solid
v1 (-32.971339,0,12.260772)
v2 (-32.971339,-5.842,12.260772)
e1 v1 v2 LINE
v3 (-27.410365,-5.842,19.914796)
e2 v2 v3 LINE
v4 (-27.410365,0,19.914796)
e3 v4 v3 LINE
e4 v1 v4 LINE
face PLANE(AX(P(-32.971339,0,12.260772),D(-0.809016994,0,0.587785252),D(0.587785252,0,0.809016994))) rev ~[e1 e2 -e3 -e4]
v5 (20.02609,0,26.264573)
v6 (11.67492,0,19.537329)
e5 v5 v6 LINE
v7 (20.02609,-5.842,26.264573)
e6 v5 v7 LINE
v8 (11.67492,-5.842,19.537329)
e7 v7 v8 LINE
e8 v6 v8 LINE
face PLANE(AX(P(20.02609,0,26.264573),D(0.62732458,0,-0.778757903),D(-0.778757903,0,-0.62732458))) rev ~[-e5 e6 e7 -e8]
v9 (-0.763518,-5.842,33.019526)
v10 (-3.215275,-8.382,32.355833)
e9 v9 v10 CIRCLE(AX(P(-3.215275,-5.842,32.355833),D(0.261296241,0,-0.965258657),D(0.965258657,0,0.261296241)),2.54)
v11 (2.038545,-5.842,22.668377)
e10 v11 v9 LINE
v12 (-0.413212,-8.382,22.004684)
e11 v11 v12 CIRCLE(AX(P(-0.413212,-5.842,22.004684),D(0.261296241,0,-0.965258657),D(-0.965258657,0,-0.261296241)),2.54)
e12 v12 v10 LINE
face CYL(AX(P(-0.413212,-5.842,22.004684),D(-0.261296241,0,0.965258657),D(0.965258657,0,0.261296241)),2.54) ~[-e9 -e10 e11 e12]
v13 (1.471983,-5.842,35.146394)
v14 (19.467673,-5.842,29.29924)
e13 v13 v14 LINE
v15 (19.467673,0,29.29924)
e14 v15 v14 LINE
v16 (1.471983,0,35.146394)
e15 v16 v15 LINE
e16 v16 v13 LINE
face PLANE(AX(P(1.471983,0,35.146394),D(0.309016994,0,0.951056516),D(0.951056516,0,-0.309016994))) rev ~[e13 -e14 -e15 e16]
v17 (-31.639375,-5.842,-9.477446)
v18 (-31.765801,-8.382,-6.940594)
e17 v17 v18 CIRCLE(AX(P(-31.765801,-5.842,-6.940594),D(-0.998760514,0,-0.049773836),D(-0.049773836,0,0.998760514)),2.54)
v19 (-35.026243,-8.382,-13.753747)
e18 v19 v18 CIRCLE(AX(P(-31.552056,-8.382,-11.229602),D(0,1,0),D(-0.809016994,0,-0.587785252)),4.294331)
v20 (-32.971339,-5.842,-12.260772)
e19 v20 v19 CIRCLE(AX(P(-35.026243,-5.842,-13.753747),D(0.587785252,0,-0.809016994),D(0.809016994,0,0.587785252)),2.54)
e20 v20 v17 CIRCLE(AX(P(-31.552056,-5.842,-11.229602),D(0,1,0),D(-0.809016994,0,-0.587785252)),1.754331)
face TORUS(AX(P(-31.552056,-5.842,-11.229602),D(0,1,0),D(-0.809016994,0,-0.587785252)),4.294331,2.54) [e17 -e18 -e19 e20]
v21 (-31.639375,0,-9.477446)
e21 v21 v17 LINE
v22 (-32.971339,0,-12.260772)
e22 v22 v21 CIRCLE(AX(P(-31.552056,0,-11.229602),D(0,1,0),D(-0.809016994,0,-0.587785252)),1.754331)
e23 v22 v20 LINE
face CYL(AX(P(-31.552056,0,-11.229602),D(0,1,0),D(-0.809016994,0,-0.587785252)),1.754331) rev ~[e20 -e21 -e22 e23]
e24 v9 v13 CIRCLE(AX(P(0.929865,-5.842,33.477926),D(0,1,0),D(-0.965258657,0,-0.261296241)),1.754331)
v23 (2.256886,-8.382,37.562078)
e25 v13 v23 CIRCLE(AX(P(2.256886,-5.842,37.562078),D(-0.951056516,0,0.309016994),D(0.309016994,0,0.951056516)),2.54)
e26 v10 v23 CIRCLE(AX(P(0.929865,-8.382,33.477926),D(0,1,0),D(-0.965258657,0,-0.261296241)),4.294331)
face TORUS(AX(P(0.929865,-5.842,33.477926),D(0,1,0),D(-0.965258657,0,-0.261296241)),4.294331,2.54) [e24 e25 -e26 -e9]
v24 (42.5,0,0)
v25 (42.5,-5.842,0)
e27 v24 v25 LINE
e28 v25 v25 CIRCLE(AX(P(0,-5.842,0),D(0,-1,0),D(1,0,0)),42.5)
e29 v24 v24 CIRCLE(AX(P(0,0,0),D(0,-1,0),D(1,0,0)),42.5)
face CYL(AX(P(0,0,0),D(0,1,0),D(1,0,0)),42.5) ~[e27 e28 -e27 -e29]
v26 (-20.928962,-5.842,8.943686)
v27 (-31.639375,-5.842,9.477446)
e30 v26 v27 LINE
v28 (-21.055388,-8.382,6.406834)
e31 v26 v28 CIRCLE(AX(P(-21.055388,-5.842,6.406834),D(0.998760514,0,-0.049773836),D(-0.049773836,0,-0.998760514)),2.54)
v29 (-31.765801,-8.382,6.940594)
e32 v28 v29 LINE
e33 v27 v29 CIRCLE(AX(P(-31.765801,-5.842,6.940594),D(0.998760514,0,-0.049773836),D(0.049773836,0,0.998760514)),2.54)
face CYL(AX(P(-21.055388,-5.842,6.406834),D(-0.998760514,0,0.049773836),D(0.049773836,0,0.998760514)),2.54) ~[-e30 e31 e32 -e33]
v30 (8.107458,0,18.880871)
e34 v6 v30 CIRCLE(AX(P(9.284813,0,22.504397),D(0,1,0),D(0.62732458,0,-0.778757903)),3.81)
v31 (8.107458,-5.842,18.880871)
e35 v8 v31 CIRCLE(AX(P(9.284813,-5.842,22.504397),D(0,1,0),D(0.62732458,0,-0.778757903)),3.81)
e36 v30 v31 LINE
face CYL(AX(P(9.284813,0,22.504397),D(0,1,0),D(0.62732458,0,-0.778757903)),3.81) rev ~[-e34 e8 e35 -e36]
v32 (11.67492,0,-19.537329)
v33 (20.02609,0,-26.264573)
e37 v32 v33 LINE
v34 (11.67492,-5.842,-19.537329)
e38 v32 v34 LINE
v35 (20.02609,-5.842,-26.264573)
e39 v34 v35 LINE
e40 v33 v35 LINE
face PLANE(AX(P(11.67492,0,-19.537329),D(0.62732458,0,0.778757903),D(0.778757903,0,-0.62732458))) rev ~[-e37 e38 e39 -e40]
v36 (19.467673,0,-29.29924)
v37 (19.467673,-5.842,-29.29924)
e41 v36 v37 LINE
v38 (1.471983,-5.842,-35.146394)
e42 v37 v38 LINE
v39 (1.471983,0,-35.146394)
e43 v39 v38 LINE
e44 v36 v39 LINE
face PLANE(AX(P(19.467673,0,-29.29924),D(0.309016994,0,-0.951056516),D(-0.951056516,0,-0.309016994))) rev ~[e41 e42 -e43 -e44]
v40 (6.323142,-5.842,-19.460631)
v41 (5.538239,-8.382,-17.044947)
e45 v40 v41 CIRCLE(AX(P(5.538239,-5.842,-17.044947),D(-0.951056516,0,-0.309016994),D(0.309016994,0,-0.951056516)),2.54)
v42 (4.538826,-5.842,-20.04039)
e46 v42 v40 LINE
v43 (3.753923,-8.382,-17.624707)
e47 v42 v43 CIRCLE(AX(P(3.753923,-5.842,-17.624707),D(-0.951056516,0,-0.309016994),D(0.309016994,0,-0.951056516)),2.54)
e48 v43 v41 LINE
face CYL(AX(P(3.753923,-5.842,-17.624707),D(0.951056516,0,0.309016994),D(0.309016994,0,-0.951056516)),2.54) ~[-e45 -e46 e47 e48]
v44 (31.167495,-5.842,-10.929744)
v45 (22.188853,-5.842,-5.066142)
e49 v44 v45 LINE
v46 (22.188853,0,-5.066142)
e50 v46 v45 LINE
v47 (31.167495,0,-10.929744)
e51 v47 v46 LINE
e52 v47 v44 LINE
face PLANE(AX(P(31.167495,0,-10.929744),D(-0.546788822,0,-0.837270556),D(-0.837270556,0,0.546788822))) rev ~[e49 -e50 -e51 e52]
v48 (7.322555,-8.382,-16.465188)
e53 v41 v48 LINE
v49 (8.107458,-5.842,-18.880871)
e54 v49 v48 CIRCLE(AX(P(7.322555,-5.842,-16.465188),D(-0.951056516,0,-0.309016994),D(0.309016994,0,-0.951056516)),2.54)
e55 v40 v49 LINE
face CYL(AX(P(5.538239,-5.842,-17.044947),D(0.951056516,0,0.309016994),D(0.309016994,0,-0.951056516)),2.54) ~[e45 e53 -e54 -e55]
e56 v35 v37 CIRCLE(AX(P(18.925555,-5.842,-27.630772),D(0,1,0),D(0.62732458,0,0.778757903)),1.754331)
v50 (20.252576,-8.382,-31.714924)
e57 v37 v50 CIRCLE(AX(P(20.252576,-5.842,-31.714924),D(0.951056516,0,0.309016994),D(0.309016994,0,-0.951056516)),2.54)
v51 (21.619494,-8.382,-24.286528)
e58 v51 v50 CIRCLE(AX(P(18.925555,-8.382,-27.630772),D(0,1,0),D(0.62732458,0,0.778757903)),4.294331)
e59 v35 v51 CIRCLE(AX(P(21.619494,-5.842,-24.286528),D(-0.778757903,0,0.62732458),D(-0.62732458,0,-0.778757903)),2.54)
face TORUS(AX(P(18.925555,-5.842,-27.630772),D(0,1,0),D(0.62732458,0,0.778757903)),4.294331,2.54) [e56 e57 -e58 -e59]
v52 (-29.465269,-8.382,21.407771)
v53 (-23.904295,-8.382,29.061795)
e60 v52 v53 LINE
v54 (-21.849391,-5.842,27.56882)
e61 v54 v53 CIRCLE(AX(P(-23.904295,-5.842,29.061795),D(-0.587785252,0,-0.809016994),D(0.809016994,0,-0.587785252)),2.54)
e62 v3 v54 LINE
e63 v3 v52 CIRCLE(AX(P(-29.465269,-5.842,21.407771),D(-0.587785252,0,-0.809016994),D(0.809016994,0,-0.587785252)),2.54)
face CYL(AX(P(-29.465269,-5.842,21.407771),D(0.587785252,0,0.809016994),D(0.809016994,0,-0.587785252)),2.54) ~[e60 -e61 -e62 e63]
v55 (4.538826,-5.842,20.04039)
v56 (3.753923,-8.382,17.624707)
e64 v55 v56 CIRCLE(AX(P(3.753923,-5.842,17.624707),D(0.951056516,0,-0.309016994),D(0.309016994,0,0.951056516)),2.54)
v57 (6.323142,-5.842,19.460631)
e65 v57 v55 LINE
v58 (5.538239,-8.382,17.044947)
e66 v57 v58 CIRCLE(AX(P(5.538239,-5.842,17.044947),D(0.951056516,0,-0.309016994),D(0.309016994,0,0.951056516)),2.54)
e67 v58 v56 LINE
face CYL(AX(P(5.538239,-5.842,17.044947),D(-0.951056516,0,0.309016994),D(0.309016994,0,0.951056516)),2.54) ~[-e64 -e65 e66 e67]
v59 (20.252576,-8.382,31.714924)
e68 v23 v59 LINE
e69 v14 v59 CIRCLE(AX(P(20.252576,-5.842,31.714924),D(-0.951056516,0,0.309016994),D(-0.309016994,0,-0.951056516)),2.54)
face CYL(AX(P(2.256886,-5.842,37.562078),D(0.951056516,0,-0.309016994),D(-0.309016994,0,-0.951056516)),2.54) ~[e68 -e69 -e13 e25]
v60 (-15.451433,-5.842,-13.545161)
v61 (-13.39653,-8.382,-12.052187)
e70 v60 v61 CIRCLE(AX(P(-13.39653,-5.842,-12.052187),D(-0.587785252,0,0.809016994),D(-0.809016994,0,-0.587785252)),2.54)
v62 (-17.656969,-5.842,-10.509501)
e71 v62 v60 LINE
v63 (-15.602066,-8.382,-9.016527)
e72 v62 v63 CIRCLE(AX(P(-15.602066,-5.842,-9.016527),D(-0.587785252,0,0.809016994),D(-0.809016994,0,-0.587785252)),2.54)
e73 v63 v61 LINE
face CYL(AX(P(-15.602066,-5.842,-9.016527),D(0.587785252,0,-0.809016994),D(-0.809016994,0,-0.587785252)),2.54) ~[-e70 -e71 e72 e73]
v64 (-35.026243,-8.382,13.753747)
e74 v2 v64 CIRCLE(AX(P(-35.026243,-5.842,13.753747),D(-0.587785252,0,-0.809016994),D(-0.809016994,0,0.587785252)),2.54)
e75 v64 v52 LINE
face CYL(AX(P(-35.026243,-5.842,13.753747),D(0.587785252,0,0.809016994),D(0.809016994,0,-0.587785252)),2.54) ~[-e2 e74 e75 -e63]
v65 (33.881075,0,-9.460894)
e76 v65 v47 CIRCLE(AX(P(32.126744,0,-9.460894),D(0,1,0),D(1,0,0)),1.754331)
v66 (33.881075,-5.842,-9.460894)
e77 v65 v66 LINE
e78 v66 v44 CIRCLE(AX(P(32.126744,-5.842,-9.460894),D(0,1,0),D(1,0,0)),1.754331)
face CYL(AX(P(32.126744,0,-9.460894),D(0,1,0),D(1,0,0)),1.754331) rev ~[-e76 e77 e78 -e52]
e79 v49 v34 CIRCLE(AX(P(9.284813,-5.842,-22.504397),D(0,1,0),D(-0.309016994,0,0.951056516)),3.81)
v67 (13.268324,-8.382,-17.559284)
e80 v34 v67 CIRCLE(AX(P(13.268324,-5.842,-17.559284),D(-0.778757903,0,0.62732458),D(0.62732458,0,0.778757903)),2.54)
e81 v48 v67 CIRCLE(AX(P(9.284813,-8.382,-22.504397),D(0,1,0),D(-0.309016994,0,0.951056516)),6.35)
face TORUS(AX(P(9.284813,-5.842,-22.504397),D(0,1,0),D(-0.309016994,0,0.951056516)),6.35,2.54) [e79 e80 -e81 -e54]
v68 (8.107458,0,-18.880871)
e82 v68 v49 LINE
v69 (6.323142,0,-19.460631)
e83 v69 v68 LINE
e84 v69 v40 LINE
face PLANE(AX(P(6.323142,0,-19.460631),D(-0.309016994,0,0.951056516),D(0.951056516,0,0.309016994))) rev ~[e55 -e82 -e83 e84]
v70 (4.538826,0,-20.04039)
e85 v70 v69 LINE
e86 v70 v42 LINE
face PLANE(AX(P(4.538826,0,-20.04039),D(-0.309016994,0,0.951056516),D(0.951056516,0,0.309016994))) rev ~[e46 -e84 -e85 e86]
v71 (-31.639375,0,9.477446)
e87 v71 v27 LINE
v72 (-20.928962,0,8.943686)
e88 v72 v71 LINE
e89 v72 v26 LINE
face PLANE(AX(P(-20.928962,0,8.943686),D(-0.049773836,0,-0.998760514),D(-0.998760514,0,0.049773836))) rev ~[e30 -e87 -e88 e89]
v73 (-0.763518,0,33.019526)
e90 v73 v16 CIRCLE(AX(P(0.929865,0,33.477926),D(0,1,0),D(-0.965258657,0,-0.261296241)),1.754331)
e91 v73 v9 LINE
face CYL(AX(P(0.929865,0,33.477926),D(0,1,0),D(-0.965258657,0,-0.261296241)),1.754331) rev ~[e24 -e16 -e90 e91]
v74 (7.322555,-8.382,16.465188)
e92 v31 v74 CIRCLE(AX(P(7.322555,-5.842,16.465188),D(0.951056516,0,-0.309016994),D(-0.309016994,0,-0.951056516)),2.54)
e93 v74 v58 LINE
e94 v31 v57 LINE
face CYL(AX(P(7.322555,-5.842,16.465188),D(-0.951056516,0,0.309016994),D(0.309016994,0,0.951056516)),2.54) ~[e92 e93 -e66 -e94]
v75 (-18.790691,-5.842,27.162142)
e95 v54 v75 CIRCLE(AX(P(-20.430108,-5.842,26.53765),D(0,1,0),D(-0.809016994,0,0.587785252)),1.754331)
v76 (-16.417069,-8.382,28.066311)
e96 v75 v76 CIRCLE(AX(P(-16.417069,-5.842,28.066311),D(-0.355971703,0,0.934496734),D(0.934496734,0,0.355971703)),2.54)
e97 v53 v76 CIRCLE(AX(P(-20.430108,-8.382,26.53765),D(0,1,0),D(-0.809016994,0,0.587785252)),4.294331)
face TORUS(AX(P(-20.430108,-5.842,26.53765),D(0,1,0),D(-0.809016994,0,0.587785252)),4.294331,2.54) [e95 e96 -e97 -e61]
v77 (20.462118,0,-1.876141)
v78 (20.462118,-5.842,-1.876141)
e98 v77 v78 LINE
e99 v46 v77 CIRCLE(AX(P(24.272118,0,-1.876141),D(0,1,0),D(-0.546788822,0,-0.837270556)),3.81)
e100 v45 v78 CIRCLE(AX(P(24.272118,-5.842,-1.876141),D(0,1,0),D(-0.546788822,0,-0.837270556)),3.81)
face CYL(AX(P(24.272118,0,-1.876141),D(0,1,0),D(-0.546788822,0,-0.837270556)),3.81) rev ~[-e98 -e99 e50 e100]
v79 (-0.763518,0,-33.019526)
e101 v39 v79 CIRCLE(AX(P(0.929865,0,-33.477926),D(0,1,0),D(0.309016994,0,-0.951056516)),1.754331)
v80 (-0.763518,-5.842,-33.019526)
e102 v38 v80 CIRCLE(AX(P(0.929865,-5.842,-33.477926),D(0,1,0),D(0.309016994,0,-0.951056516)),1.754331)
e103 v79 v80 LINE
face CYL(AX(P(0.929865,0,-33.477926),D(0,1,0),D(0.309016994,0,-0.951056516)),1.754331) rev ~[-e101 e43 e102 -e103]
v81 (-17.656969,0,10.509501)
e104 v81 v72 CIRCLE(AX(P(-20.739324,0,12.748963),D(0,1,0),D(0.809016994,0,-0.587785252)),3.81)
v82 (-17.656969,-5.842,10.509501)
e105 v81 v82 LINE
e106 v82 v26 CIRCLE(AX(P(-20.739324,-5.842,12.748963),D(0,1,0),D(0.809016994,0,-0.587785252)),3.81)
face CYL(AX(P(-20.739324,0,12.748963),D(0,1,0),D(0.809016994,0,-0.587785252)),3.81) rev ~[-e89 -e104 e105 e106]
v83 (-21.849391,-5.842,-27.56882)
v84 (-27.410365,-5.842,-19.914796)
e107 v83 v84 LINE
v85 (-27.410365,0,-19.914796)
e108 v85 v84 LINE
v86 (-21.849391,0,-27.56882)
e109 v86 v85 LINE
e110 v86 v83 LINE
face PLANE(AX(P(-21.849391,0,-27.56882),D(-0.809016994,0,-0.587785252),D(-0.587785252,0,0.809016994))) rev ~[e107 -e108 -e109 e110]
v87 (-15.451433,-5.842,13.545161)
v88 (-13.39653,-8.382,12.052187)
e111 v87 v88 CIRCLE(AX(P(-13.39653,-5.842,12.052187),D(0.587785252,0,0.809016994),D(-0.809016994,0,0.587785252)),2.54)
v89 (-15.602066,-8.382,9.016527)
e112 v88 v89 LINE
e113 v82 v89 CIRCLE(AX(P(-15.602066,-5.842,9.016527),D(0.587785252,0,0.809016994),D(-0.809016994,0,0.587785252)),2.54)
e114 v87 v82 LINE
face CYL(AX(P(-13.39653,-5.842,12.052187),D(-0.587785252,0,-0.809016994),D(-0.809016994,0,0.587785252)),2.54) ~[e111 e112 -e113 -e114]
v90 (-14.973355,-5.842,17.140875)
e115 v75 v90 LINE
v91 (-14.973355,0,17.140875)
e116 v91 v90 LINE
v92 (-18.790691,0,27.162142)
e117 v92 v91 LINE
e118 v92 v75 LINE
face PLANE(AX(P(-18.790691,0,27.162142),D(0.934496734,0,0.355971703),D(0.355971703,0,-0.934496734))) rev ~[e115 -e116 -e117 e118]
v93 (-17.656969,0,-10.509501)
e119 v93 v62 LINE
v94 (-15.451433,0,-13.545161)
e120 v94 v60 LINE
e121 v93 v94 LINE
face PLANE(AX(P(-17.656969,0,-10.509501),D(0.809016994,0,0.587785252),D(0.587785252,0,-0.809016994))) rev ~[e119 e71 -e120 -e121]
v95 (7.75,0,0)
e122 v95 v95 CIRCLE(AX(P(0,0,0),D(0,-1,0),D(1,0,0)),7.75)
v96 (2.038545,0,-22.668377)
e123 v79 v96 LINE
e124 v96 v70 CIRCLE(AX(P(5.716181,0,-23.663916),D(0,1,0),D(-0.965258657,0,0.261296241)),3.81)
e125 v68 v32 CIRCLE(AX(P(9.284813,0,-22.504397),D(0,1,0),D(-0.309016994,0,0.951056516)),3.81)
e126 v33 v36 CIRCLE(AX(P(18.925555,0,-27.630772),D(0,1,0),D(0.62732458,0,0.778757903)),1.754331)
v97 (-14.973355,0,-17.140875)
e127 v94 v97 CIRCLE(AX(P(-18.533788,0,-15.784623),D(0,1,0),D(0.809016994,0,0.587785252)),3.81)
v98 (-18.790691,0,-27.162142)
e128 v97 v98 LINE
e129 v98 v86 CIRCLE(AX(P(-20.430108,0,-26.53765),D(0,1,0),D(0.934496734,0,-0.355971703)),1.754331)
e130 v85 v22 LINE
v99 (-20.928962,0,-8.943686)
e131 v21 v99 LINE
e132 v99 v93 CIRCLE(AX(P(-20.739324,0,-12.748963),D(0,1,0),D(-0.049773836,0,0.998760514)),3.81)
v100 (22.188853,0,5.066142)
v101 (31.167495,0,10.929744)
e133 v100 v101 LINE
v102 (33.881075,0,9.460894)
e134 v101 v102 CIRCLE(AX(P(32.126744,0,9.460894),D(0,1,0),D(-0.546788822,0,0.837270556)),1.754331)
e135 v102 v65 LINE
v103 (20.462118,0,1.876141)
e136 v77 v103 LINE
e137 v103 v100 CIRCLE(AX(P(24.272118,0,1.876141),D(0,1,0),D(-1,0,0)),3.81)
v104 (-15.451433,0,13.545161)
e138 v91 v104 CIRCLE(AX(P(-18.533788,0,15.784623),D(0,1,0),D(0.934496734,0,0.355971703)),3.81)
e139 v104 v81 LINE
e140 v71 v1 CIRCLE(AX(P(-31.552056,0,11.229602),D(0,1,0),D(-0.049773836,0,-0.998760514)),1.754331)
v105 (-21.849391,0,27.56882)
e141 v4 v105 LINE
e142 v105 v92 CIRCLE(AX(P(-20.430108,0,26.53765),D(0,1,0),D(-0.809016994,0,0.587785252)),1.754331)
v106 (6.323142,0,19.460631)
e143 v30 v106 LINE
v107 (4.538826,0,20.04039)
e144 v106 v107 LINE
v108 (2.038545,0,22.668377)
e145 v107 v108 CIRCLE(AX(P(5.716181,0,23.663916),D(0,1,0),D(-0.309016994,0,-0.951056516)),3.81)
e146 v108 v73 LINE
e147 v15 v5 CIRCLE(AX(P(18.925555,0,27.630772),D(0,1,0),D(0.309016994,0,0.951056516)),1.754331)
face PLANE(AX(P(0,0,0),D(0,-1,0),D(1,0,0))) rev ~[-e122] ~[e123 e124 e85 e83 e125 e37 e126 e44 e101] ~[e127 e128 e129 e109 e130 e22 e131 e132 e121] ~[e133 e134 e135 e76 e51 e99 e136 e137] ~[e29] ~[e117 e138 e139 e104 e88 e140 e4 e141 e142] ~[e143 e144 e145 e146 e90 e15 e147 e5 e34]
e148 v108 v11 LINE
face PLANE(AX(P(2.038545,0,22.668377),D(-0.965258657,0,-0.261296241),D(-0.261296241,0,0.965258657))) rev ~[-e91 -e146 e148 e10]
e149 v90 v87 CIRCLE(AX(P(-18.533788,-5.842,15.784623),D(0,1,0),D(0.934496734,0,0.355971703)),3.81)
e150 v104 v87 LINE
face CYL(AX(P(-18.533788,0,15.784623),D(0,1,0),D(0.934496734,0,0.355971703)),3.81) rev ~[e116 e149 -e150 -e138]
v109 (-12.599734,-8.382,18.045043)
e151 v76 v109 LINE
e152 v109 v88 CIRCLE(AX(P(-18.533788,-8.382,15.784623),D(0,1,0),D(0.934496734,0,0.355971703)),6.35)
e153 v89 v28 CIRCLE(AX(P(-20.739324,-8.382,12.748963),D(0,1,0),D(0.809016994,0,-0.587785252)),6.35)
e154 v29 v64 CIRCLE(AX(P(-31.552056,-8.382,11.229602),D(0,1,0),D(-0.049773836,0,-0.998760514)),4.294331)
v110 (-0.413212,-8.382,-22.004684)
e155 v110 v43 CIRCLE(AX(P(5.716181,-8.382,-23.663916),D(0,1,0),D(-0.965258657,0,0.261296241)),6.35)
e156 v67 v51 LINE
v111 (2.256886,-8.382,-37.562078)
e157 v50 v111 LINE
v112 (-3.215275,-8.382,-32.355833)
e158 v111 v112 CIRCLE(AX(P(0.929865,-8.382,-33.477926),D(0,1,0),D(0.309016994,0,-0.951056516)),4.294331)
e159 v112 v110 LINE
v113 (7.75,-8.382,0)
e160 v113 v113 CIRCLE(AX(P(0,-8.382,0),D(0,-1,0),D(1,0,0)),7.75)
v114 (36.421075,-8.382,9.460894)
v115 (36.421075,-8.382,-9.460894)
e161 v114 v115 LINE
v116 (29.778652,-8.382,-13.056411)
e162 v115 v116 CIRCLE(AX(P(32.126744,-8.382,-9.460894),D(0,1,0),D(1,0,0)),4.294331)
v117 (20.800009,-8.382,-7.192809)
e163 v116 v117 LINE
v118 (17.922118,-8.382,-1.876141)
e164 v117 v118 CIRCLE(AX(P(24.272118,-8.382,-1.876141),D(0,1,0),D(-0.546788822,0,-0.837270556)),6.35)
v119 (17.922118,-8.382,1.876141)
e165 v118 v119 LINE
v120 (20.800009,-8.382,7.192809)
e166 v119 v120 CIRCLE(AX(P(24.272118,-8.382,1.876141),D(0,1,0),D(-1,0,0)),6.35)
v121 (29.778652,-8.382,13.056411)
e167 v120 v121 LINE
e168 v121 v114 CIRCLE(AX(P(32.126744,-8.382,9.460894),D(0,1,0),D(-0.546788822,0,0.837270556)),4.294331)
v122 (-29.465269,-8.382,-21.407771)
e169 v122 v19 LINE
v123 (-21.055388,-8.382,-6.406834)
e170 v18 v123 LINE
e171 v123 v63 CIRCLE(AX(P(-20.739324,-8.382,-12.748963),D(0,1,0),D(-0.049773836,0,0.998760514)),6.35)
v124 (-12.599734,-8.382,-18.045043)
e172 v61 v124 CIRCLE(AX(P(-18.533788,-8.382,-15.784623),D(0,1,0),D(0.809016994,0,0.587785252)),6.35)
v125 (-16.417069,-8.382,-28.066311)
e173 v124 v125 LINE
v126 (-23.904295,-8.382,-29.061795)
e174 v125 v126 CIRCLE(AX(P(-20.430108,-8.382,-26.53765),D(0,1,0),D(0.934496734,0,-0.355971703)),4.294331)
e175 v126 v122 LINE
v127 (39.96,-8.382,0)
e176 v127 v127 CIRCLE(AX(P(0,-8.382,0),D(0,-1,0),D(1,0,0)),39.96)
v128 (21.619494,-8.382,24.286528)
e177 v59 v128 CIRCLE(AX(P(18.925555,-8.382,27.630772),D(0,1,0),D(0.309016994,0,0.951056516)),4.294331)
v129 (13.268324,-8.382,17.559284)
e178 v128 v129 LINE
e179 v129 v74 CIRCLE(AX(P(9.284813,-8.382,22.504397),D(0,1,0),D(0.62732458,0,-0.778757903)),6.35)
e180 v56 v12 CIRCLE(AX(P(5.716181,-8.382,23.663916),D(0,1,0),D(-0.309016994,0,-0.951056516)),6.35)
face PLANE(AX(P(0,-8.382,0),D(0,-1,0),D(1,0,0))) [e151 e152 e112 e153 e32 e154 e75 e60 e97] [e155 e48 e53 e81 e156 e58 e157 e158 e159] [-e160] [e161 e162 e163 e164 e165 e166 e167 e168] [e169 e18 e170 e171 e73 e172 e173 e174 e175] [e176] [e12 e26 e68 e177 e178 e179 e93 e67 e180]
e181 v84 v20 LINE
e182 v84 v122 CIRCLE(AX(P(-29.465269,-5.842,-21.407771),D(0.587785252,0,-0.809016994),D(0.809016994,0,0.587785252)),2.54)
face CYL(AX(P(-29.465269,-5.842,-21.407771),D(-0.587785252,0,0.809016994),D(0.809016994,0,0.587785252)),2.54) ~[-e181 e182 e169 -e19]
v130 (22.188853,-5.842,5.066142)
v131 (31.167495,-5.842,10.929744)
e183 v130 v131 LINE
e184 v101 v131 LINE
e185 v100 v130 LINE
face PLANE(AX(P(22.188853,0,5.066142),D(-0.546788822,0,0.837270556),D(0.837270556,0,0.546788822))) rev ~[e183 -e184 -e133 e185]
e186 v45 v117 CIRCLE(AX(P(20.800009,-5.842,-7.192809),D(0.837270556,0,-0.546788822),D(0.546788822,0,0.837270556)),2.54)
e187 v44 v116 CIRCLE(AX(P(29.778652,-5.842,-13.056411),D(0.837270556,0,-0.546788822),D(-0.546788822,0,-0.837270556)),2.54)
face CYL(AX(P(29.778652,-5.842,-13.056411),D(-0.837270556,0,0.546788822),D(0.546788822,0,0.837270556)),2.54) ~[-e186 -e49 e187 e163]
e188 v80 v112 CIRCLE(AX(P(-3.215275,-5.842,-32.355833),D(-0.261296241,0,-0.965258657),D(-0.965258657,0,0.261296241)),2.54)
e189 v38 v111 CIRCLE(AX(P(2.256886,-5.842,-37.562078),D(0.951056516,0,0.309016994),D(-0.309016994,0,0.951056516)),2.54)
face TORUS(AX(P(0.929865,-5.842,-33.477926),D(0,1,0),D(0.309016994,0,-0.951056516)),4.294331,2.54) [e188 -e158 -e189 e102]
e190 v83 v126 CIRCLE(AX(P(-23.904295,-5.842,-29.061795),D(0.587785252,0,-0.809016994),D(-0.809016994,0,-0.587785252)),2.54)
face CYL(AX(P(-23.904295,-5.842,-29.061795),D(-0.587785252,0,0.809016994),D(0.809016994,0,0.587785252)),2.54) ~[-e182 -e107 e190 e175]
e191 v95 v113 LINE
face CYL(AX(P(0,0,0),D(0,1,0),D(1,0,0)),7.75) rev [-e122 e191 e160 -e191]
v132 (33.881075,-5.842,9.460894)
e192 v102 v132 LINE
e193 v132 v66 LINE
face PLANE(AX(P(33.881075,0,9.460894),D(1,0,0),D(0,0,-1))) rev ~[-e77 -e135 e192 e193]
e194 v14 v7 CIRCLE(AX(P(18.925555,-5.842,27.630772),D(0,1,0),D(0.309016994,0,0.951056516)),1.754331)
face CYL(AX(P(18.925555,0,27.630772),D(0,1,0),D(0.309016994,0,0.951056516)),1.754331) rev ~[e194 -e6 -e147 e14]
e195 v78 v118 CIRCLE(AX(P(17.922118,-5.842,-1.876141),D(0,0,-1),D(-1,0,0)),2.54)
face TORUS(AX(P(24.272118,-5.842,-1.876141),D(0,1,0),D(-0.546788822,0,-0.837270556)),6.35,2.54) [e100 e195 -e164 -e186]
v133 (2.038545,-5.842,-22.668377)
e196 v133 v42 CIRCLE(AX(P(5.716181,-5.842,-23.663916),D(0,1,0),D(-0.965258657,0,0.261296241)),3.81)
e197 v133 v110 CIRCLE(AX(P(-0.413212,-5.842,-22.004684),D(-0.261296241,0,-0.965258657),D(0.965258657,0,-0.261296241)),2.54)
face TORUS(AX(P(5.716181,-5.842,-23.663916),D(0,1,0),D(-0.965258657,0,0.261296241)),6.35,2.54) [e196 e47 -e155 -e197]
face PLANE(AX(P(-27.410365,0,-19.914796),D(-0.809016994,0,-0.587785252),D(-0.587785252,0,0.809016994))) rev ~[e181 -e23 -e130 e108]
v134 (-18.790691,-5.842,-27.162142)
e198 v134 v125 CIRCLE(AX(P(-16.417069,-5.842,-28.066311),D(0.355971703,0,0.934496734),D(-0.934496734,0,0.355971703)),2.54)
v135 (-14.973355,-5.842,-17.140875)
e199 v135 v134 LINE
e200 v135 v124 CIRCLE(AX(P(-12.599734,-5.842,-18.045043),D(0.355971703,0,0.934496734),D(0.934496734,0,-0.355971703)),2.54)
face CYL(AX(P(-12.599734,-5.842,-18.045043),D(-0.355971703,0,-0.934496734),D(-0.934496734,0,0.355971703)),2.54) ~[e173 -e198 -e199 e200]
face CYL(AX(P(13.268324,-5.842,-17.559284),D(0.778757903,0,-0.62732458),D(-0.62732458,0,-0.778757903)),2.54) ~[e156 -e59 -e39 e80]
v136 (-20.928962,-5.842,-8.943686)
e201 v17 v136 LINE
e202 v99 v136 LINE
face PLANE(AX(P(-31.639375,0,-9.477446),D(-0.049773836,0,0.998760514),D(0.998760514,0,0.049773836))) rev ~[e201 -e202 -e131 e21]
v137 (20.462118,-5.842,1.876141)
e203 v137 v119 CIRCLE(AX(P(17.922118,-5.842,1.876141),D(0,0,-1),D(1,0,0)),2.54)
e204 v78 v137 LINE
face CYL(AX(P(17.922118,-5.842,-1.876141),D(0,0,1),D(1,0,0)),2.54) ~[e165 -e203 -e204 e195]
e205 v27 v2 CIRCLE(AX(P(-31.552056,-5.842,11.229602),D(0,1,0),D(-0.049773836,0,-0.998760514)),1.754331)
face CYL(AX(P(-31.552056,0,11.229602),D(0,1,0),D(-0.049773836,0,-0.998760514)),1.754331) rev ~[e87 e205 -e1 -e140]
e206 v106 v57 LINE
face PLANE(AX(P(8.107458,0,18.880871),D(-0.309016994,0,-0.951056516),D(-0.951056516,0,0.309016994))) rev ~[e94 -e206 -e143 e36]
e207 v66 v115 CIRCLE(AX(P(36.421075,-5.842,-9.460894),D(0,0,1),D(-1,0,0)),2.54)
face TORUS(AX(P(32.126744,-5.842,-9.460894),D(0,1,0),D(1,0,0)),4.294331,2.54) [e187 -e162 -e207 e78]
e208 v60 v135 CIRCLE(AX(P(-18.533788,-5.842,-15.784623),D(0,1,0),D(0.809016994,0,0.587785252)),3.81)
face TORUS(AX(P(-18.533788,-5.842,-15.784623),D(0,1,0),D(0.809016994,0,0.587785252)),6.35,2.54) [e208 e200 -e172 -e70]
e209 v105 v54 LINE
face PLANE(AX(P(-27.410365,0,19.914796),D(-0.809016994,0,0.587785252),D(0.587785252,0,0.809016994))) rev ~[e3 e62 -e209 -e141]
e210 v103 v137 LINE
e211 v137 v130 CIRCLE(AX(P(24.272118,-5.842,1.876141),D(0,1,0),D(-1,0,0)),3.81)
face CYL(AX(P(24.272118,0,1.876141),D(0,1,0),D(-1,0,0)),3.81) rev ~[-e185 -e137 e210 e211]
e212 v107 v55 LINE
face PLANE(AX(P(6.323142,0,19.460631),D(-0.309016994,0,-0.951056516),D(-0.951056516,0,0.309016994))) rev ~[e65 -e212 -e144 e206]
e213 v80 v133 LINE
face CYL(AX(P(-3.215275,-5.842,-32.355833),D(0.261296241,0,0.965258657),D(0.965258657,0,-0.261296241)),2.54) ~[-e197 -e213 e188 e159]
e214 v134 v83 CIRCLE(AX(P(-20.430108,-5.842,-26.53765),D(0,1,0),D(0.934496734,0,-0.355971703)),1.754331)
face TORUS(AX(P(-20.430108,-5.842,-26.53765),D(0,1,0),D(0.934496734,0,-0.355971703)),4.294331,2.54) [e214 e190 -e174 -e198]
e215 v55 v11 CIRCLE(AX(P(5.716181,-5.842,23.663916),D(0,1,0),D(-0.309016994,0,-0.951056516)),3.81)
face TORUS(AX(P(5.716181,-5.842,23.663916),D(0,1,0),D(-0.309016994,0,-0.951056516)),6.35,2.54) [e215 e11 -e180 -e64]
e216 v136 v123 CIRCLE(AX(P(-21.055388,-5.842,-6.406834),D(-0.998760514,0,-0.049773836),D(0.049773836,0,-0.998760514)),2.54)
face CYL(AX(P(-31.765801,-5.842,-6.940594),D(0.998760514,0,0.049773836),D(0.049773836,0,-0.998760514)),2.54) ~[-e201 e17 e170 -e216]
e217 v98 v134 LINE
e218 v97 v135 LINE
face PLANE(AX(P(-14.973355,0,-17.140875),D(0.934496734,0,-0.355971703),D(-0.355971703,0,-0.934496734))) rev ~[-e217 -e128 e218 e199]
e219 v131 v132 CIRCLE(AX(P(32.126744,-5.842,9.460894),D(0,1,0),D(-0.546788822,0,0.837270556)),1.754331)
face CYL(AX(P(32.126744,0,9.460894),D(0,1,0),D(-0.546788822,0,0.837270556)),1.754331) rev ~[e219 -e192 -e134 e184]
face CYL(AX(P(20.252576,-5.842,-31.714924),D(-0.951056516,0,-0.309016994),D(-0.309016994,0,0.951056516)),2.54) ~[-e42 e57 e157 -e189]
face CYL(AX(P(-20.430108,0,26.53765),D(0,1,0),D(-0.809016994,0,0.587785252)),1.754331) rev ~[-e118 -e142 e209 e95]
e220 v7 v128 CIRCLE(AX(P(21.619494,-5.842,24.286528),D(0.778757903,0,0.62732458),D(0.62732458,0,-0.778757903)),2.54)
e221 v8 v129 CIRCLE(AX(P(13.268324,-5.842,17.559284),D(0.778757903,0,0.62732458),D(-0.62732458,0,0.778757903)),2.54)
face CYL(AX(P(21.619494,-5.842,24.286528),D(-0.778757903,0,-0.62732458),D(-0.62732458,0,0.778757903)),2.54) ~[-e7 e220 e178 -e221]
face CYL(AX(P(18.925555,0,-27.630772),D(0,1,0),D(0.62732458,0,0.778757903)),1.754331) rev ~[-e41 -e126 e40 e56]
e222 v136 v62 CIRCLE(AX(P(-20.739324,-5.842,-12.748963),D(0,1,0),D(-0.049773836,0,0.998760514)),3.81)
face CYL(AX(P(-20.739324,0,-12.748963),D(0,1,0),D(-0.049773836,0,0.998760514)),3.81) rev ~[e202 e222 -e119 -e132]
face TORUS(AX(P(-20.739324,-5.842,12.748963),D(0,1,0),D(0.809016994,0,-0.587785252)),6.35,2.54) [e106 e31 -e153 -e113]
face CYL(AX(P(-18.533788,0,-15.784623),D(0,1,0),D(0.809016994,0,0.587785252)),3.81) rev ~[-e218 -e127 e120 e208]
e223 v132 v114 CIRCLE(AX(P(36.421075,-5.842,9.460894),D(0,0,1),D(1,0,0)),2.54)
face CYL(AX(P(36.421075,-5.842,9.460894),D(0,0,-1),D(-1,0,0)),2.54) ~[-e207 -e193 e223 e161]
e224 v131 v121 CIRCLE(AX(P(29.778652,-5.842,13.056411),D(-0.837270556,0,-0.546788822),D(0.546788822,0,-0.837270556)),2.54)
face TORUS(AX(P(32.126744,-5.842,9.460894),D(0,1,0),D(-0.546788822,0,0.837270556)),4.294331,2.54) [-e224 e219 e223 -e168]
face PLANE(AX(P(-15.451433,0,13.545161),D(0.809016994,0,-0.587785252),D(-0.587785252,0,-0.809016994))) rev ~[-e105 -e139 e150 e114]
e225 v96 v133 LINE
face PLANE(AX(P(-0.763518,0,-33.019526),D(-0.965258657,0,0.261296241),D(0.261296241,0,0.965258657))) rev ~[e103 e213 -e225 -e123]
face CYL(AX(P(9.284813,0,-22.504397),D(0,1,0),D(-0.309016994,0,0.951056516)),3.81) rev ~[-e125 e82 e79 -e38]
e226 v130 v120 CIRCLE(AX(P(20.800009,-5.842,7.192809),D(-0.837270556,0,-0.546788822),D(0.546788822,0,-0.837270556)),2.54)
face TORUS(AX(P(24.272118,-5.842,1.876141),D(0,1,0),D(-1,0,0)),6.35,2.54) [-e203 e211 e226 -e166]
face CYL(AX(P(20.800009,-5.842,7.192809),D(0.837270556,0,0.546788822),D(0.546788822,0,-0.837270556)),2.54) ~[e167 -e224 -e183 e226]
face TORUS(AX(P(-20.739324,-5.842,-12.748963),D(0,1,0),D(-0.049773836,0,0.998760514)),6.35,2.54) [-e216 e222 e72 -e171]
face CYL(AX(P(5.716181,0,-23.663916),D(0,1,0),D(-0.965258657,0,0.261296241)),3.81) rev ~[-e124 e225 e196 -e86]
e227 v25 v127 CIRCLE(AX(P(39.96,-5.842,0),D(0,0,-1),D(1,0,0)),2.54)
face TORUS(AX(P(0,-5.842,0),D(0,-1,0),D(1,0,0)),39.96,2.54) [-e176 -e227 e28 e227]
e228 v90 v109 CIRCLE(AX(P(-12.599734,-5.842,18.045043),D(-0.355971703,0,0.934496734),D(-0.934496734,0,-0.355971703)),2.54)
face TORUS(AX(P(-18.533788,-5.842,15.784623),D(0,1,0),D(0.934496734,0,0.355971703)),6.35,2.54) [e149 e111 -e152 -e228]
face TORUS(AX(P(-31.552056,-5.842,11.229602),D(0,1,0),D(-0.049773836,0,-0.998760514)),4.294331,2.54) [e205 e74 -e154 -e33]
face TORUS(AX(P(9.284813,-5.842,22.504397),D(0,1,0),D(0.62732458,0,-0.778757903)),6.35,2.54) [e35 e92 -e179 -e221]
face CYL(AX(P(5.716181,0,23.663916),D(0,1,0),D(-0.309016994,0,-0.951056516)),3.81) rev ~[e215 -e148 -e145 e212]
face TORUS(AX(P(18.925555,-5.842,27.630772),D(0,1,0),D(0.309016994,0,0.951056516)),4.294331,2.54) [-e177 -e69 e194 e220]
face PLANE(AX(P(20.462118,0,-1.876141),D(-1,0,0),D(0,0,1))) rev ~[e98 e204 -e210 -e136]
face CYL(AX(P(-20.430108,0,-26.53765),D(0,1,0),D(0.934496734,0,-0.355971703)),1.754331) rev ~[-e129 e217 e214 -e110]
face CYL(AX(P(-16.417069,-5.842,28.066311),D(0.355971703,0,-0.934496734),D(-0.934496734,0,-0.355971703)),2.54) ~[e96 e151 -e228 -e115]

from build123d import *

# Parameters (mm, degrees)
F0_R     = 42.5
F0_R_2   = 7.75
F1_DEPTH = 8.382
F2_R     = 2.54


with BuildPart() as f1:
    # F0 (on Front) → F1 (new body)
    with BuildSketch(Plane.XZ):
        Circle(F0_R)
        with BuildLine():
            ThreePointArc((-15.4514332848, -13.5451611678), (-14.7570241285, -15.2824731939), (-14.9733554757, -17.1408751689))
            Line((-14.9733554757, -17.1408751689), (-18.7906910156, -27.1621424825))
            ThreePointArc((-18.7906910156, -27.1621424825), (-20.1988906914, -28.276677686), (-21.8493914782, -27.5688202147))
            Line((-21.8493914782, -27.5688202147), (-27.4103654367, -19.9147961979))
            Line((-27.4103654367, -19.9147961979), (-32.9713393953, -12.2607721812))
            ThreePointArc((-32.9713393953, -12.2607721812), (-33.1345190636, -10.4723126646), (-31.6393754644, -9.4774455054))
            Line((-31.6393754644, -9.4774455054), (-20.9289623292, -8.9436855703))
            ThreePointArc((-20.9289623292, -8.9436855703), (-19.0946669583, -9.3122200255), (-17.6569692654, -10.5095013192))
            Line((-17.6569692654, -10.5095013192), (-16.5542012751, -12.0273312435))
            Line((-16.5542012751, -12.0273312435), (-15.4514332848, -13.5451611678))
        make_face(mode=Mode.SUBTRACT)
        with BuildLine():
            ThreePointArc((8.1074583205, -18.880871304), (9.9743244741, -18.7573078915), (11.6749197196, -19.5373290217))
            Line((11.6749197196, -19.5373290217), (20.0260897446, -26.2645727668))
            ThreePointArc((20.0260897446, -26.2645727668), (20.6509180813, -27.9482605634), (19.4676728283, -29.2992401036))
            Line((19.4676728283, -29.2992401036), (10.4698279528, -32.2228171273))
            Line((10.4698279528, -32.2228171273), (1.4719830773, -35.146394151))
            ThreePointArc((1.4719830773, -35.146394151), (-0.2793682908, -34.7489228535), (-0.7635184042, -33.0195259313))
            Line((-0.7635184042, -33.0195259313), (2.038545407, -22.6683768361))
            ThreePointArc((2.038545407, -22.6683768361), (2.9558709444, -21.0377416804), (4.5388261405, -20.0403901879))
            Line((4.5388261405, -20.0403901879), (6.3231422305, -19.4606307459))
            Line((6.3231422305, -19.4606307459), (8.1074583205, -18.880871304))
        make_face(mode=Mode.SUBTRACT)
        with BuildLine():
            ThreePointArc((-17.6569692654, 10.5095013192), (-19.0946669583, 9.3122200255), (-20.9289623292, 8.9436855703))
            Line((-20.9289623292, 8.9436855703), (-31.6393754644, 9.4774455054))
            ThreePointArc((-31.6393754644, 9.4774455054), (-33.1345190636, 10.4723126646), (-32.9713393953, 12.2607721812))
            Line((-32.9713393953, 12.2607721812), (-27.4103654367, 19.9147961979))
            Line((-27.4103654367, 19.9147961979), (-21.8493914782, 27.5688202147))
            ThreePointArc((-21.8493914782, 27.5688202147), (-20.1988906914, 28.276677686), (-18.7906910156, 27.1621424825))
            Line((-18.7906910156, 27.1621424825), (-14.9733554757, 17.1408751689))
            ThreePointArc((-14.9733554757, 17.1408751689), (-14.7570241285, 15.2824731939), (-15.4514332848, 13.5451611678))
            Line((-15.4514332848, 13.5451611678), (-16.5542012751, 12.0273312435))
            Line((-16.5542012751, 12.0273312435), (-17.6569692654, 10.5095013192))
        make_face(mode=Mode.SUBTRACT)
        Circle(F0_R_2, mode=Mode.SUBTRACT)
        with BuildLine():
            Line((20.4621180892, 0), (20.4621180892, 1.8761409647))
            ThreePointArc((20.4621180892, 1.8761409647), (20.9214956683, 3.6898193795), (22.1888526784, 5.0661417842))
            Line((22.1888526784, 5.0661417842), (31.1674951396, 10.9297438126))
            ThreePointArc((31.1674951396, 10.9297438126), (32.9618599645, 11.0037027314), (33.8810749679, 9.4608939861))
            Line((33.8810749679, 9.4608939861), (33.8810749679, 0))
            Line((33.8810749679, 0), (33.8810749679, -9.4608939861))
            ThreePointArc((33.8810749679, -9.4608939861), (32.9618599645, -11.0037027314), (31.1674951396, -10.9297438126))
            Line((31.1674951396, -10.9297438126), (22.1888526784, -5.0661417842))
            ThreePointArc((22.1888526784, -5.0661417842), (20.9214956683, -3.6898193795), (20.4621180892, -1.8761409647))
            Line((20.4621180892, -1.8761409647), (20.4621180892, 0))
        make_face(mode=Mode.SUBTRACT)
        with BuildLine():
            ThreePointArc((4.5388261405, 20.0403901879), (2.9558709444, 21.0377416804), (2.038545407, 22.6683768361))
            Line((2.038545407, 22.6683768361), (-0.7635184042, 33.0195259313))
            ThreePointArc((-0.7635184042, 33.0195259313), (-0.2793682908, 34.7489228535), (1.4719830773, 35.146394151))
            Line((1.4719830773, 35.146394151), (10.4698279528, 32.2228171273))
            Line((10.4698279528, 32.2228171273), (19.4676728283, 29.2992401036))
            ThreePointArc((19.4676728283, 29.2992401036), (20.6509180813, 27.9482605634), (20.0260897446, 26.2645727668))
            Line((20.0260897446, 26.2645727668), (11.6749197196, 19.5373290217))
            ThreePointArc((11.6749197196, 19.5373290217), (9.9743244741, 18.7573078915), (8.1074583205, 18.880871304))
            Line((8.1074583205, 18.880871304), (6.3231422305, 19.4606307459))
            Line((6.3231422305, 19.4606307459), (4.5388261405, 20.0403901879))
        make_face(mode=Mode.SUBTRACT)
    extrude(amount=F1_DEPTH)

    # F2
    f2_edges = [f1.edges().sort_by_distance(p)[0] for p in [
        (26.678174, -8.382, 7.997943),
        (6.323142, -8.382, 19.460631),
        (-16.554201, -8.382, 12.027331),
        (-16.554201, -8.382, -12.027331),
        (6.323142, -8.382, -19.460631),
        (-42.5, -8.382, 0),
    ]]
    fillet(f2_edges, radius=F2_R)


solid = f1.part
